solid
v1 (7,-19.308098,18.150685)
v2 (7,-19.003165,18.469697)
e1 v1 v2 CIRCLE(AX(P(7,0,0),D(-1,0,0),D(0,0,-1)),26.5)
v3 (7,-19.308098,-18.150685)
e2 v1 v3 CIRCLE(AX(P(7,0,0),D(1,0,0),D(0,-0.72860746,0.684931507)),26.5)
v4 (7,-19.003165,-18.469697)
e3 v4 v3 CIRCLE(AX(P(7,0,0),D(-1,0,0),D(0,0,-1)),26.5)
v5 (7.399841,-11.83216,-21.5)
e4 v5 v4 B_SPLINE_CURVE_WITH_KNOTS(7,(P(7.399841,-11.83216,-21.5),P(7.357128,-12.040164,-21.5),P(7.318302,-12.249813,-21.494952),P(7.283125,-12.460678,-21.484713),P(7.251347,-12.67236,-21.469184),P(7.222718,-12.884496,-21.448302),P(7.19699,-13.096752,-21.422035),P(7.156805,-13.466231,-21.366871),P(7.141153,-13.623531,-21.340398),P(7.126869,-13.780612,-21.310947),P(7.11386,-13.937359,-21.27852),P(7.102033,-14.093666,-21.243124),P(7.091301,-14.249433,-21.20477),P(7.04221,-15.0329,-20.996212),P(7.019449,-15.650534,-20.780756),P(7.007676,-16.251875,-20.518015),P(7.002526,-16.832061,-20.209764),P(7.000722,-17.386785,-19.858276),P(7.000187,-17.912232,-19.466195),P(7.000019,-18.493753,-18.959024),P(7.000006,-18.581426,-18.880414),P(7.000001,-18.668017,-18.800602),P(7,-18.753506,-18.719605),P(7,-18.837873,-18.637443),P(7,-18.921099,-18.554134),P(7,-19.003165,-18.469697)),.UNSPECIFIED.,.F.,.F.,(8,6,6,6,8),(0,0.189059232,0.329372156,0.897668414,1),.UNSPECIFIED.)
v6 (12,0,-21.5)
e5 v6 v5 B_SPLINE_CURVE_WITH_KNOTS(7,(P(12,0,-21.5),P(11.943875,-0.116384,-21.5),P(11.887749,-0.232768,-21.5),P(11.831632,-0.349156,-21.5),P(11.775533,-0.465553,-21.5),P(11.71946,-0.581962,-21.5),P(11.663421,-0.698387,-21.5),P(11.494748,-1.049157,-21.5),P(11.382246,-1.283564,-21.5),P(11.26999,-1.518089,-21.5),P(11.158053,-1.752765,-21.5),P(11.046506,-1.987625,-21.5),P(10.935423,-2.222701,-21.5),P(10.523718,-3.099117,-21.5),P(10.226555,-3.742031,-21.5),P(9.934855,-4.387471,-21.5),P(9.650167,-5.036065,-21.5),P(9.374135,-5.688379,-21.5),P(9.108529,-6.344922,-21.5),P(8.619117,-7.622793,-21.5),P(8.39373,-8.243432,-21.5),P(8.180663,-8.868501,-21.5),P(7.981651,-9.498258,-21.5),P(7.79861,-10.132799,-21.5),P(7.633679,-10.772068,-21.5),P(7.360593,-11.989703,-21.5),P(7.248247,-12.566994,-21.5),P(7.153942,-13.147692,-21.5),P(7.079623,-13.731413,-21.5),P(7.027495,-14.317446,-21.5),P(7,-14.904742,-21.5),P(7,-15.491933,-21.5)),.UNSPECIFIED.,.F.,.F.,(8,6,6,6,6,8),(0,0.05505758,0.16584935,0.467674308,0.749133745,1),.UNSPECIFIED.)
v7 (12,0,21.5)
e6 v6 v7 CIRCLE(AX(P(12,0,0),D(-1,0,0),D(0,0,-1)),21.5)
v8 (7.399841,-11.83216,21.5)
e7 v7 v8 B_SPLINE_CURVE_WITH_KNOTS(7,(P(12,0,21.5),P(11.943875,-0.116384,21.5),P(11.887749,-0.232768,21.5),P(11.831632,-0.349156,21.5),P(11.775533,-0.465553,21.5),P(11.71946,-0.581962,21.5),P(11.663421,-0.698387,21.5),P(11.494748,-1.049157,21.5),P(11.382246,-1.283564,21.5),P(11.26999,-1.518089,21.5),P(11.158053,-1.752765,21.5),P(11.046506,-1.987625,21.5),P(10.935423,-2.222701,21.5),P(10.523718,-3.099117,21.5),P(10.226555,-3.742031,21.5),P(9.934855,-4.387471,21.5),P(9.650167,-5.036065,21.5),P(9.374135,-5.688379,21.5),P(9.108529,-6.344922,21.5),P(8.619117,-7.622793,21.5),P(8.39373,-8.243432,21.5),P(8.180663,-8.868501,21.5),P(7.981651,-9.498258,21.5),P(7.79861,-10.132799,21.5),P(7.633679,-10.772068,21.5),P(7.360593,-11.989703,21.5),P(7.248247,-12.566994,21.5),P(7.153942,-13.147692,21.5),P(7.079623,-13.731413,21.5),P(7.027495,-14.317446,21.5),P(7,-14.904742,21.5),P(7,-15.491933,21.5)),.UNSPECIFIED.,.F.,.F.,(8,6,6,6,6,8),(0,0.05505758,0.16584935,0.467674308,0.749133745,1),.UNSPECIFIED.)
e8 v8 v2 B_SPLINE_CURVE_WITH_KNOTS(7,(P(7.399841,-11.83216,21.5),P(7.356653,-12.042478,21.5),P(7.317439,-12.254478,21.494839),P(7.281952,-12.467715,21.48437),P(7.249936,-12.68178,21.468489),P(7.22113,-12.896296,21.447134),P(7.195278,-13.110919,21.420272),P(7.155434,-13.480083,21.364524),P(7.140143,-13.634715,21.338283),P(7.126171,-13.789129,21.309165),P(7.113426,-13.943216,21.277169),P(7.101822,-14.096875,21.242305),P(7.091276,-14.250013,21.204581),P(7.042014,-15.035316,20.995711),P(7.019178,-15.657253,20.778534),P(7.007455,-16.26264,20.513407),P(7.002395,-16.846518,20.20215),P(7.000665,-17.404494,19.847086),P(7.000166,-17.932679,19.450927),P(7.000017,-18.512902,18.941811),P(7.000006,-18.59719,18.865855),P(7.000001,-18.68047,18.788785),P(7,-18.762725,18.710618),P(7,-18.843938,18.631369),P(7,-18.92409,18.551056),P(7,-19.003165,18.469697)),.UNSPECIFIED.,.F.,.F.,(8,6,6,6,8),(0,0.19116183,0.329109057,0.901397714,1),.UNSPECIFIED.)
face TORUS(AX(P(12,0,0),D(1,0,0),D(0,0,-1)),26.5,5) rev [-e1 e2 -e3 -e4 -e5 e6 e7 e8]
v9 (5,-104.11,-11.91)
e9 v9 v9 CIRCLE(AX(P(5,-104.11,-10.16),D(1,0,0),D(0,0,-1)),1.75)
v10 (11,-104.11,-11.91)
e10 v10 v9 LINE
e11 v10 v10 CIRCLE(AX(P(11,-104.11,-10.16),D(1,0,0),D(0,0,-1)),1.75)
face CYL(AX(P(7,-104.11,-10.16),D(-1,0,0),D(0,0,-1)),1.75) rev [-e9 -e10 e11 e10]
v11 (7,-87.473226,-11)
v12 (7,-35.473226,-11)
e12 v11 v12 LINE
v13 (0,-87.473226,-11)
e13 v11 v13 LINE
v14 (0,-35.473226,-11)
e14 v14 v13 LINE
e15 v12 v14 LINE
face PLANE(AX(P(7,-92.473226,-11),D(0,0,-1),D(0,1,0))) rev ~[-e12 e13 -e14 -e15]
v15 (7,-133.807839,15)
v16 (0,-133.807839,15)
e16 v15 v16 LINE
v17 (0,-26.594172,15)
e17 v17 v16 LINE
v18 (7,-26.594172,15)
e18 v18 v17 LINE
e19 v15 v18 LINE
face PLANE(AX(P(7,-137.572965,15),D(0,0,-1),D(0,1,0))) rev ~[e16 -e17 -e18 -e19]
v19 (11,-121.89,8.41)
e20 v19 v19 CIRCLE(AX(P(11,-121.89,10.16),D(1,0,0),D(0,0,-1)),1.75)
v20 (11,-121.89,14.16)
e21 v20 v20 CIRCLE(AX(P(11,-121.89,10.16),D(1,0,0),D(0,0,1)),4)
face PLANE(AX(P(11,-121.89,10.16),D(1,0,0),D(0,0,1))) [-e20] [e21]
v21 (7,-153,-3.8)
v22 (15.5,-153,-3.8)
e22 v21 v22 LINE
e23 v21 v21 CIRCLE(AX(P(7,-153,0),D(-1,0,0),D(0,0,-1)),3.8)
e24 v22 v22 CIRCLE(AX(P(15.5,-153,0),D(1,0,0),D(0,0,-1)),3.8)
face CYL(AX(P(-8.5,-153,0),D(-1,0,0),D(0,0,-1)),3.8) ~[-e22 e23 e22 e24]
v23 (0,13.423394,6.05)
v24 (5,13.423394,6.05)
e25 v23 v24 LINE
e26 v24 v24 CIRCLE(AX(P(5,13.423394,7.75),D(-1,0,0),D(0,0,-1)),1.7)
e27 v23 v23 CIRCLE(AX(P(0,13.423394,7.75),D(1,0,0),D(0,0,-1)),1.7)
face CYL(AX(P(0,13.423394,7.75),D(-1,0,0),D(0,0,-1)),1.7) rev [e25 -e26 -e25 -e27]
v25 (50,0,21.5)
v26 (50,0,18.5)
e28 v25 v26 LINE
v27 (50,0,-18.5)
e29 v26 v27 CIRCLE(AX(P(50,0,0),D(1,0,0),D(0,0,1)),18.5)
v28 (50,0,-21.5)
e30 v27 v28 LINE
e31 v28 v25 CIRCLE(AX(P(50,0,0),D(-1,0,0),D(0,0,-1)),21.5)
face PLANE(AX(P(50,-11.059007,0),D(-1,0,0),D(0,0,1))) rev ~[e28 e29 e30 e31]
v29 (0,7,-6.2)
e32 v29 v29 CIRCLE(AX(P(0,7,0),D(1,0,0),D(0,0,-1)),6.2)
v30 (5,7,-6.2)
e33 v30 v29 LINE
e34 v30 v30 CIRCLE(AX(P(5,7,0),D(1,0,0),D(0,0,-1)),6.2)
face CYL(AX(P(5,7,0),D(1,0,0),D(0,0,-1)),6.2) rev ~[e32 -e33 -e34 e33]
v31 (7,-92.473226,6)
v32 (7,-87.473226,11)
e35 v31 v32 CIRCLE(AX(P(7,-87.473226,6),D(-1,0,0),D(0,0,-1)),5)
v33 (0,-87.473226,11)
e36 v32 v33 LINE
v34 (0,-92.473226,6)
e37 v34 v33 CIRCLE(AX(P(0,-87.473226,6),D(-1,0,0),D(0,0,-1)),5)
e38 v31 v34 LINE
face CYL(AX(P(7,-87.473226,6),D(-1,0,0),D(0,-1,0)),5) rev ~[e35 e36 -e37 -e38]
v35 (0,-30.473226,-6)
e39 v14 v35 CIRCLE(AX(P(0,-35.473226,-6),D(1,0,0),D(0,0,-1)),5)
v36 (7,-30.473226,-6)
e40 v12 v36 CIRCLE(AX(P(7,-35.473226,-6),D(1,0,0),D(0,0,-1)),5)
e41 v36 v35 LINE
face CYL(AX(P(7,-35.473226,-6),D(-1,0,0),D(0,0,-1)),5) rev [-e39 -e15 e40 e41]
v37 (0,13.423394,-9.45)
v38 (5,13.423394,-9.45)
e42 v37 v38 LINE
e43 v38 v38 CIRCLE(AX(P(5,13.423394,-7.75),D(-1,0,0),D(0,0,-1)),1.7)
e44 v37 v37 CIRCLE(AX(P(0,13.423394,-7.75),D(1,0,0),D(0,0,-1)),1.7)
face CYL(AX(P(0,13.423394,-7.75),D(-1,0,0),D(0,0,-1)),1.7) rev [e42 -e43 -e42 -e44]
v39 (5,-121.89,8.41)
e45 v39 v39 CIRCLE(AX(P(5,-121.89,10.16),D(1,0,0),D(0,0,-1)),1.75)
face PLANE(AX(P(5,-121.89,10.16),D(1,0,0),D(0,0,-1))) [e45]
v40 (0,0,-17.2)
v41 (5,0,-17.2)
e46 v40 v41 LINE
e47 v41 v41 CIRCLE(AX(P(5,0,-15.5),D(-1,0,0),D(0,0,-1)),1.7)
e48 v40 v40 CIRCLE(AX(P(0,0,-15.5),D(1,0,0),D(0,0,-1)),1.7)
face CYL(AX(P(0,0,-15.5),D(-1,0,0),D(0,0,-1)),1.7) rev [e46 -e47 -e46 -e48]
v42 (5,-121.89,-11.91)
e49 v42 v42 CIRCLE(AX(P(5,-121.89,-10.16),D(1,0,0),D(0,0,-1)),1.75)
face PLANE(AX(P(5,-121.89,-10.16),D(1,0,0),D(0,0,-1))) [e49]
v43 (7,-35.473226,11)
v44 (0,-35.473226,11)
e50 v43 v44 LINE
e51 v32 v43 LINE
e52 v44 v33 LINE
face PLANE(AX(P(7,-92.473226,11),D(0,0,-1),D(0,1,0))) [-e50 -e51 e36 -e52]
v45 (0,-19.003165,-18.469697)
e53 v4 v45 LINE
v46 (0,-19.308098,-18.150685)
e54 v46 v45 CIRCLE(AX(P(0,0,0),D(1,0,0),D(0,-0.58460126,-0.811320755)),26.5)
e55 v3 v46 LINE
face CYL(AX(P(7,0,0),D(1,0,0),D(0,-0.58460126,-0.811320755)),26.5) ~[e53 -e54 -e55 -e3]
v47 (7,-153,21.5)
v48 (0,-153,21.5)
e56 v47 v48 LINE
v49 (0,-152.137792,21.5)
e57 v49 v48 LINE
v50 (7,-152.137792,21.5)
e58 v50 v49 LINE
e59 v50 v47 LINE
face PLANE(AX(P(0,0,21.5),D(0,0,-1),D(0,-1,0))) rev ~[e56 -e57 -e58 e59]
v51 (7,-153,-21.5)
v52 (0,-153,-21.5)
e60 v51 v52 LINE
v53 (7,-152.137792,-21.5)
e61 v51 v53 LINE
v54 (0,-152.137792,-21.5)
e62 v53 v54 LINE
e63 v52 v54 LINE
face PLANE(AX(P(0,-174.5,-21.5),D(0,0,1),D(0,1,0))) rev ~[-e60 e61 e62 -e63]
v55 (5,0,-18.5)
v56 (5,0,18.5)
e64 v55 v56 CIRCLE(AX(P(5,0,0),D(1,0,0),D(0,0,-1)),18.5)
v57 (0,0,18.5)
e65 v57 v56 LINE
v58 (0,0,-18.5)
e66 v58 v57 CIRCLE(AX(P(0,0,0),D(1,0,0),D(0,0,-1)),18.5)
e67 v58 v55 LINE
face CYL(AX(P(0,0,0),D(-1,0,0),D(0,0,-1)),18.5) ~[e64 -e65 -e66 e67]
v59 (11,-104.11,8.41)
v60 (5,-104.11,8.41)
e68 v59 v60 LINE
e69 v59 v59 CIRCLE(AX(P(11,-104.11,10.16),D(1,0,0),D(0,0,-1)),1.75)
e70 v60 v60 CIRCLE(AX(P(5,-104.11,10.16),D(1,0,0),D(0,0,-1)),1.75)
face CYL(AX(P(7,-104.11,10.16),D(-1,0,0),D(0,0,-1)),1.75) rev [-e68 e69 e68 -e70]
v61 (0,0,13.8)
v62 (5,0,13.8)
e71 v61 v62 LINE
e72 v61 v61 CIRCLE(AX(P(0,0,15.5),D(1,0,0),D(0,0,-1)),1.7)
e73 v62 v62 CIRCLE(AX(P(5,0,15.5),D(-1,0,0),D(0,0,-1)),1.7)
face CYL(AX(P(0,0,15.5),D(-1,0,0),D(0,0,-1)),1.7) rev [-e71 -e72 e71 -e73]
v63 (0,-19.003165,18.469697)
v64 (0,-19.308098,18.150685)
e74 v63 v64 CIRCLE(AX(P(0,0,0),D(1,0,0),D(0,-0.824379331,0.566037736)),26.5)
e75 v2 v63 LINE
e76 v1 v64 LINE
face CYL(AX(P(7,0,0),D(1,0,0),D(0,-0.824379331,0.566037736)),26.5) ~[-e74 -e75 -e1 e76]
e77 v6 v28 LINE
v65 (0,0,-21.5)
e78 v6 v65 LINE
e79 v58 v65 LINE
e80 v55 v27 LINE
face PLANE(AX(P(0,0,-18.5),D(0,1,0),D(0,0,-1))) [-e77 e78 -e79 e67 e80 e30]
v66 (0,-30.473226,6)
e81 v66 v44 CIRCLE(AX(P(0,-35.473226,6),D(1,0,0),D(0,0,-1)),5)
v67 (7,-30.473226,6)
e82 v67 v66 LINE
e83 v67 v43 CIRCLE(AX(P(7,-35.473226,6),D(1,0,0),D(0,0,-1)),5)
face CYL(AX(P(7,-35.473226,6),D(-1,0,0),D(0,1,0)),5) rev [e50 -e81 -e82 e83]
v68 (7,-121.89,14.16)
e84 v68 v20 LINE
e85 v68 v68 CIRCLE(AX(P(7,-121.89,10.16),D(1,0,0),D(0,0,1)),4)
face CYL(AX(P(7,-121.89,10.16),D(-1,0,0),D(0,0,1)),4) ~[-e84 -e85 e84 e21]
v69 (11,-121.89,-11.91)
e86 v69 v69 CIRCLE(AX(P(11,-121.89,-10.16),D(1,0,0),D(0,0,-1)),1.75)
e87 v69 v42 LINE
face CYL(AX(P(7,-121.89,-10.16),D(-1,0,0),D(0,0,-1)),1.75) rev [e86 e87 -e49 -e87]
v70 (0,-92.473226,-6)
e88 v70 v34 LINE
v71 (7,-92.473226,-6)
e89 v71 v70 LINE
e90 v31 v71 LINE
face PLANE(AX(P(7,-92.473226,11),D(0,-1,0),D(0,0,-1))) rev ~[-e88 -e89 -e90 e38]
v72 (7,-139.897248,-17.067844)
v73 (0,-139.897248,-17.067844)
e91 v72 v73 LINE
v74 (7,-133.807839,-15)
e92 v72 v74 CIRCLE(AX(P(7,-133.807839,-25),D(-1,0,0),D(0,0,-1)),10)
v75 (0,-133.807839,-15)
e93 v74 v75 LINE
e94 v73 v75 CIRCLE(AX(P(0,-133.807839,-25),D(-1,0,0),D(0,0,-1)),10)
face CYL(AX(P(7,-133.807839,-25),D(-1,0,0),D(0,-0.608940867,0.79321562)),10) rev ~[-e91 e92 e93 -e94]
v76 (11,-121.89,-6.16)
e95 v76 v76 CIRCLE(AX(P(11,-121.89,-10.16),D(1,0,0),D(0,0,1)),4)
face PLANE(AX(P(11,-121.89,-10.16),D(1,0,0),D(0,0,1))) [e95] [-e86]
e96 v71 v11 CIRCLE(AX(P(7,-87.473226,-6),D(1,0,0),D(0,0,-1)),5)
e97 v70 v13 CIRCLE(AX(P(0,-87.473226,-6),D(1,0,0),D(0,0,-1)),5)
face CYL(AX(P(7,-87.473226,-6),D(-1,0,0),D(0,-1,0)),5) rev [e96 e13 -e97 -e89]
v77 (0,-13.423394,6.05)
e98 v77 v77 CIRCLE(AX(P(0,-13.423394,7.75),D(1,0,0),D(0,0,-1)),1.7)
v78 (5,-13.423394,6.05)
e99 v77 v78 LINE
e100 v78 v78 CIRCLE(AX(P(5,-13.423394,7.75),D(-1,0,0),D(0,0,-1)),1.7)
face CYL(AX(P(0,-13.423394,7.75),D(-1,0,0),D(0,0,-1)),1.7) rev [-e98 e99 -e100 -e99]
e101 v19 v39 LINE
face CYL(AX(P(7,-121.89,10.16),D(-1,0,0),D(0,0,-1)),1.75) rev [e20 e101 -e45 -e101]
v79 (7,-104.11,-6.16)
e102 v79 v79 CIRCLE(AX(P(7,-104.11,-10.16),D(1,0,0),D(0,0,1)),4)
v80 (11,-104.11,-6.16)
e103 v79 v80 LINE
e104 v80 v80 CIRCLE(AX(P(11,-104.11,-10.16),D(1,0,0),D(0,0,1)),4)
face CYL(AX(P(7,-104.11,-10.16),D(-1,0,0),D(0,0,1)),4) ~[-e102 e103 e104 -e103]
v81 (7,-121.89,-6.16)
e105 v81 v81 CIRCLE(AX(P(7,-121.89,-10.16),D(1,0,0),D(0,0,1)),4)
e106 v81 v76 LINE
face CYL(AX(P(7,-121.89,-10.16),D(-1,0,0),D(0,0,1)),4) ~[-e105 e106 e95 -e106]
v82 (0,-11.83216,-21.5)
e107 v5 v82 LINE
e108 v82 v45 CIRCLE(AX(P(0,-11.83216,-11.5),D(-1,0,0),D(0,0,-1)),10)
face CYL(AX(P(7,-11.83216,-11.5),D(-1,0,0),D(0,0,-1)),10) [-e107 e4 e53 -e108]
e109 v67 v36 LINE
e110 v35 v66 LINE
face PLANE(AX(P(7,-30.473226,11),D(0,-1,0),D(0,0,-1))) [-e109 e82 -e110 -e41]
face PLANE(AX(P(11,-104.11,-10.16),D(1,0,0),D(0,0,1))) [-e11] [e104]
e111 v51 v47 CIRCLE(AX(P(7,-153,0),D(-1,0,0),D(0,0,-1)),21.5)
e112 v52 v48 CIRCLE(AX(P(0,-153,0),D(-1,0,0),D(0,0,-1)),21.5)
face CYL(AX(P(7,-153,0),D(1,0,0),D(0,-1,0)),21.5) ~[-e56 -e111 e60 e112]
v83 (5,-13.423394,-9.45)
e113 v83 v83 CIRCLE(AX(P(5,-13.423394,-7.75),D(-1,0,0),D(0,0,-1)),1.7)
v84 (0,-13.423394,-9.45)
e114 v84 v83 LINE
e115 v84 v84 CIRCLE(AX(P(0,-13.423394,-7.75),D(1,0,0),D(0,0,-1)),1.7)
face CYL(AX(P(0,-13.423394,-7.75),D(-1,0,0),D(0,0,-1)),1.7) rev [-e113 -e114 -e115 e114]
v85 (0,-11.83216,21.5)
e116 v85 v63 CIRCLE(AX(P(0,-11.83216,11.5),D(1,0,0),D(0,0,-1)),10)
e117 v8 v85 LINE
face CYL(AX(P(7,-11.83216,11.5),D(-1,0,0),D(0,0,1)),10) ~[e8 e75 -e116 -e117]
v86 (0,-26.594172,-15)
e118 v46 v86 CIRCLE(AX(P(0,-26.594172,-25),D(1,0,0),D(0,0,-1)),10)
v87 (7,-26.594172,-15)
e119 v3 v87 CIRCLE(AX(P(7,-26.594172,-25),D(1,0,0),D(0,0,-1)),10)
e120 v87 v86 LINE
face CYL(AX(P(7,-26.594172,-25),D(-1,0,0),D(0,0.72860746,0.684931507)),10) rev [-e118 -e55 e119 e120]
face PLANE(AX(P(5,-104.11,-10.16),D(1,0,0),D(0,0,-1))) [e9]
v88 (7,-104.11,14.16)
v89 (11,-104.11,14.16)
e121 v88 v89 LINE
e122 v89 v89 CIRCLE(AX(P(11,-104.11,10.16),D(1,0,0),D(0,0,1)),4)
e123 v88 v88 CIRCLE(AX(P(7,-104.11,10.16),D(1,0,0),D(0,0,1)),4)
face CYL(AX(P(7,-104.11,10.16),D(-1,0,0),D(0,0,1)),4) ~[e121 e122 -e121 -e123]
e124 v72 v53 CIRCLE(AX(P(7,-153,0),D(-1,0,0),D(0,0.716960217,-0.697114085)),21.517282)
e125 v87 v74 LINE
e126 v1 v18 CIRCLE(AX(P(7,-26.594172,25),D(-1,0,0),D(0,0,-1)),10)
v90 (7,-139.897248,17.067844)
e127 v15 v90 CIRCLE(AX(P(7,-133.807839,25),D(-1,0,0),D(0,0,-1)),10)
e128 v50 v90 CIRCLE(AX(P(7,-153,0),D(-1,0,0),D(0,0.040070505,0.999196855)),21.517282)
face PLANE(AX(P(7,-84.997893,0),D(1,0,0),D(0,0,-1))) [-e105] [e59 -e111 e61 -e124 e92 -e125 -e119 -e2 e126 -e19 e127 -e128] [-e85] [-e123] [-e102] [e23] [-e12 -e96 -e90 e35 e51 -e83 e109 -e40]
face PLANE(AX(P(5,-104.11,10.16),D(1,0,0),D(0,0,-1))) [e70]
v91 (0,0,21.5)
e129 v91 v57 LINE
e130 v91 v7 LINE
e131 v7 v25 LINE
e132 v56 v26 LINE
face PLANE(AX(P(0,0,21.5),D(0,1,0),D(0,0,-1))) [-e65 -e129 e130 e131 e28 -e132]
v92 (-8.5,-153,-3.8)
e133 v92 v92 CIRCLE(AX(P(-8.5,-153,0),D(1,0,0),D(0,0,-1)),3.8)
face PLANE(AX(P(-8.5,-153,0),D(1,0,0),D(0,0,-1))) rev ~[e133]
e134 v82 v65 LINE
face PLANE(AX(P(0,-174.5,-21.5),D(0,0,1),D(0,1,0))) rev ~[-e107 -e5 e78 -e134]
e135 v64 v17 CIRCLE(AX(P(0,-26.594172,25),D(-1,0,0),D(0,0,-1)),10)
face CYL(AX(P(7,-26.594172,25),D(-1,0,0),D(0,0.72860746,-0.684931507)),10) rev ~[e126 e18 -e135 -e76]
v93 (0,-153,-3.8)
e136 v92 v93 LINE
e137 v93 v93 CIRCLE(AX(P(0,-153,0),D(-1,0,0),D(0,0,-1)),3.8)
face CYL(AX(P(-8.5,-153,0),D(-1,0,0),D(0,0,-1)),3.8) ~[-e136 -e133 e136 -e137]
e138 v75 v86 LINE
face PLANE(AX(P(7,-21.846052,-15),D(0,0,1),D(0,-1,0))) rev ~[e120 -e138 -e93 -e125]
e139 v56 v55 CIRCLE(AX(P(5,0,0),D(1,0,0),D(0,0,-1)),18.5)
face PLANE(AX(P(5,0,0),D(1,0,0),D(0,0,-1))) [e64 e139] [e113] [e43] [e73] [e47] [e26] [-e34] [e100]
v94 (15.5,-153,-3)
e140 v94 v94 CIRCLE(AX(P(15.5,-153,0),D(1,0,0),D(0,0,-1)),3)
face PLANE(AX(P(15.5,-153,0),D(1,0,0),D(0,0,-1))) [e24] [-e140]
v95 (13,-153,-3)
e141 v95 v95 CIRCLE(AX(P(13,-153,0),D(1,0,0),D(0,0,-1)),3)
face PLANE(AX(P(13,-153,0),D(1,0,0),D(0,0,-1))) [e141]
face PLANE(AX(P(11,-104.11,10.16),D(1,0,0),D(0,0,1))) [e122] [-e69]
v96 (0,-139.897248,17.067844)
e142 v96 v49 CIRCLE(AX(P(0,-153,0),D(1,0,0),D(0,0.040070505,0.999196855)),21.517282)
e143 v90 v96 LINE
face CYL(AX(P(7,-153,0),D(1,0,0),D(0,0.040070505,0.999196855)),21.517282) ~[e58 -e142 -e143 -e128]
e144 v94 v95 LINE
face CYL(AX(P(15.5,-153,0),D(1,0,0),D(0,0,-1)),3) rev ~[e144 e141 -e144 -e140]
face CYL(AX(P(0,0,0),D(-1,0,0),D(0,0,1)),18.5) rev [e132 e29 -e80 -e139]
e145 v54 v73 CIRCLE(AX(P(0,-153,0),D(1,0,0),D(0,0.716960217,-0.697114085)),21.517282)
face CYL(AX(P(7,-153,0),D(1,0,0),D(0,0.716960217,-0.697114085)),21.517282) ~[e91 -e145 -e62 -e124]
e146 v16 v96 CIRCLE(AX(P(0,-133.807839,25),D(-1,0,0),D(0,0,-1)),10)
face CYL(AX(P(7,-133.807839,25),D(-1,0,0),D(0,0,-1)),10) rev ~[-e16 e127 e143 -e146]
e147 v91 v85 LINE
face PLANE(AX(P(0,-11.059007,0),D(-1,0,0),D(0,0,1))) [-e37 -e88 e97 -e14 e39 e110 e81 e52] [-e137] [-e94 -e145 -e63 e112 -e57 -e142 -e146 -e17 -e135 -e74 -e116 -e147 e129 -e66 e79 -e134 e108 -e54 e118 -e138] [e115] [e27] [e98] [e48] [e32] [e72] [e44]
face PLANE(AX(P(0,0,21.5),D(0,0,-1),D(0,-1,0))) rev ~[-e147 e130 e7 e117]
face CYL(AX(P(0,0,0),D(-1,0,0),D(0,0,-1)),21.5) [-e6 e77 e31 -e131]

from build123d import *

# Parameters (mm, degrees)
SKETCH1_R                = 18.5
BOSS_EXTRUDE1_DEPTH      = 5
SKETCH2_R                = 6.2
CUT_EXTRUDE1_DEPTH       = 10
SKETCH3_R                = 1.6999999999999995
SKETCH3_R_2              = 1.6999999999998752
SKETCH3_R_3              = 1.7000000000002367
SKETCH3_R_4              = 1.700000000000381
SKETCH3_R_5              = 1.7000000000003195
SKETCH3_R_6              = 1.7000000000003193
CUT_EXTRUDE2_DEPTH       = 10
BOSS_EXTRUDE2_DEPTH      = 50
BOSS_EXTRUDE3_DEPTH      = 7
CUT_EXTRUDE3_DEPTH       = 20
BOSS_EXTRUDE4_DEPTH      = 8.5
BOSS_EXTRUDE4_DEPTH_BACK = 15.499999999999996
SKETCH7_R                = 3.799999999999999
SKETCH8_R                = 4.000000000000005
SKETCH8_R_2              = 1.7500000000000004
SKETCH8_R_3              = 4.000000000000007
BOSS_EXTRUDE5_DEPTH      = 4
CUT_EXTRUDE4_START       = -2
SKETCH8_2_R              = 1.7500000000000004
CUT_EXTRUDE4_DEPTH       = 2
FILLET1_R                = 5
SKETCH9_R                = 3.0000000000000036
CUT_EXTRUDE5_DEPTH       = 2.5
CUT_EXTRUDE6_DEPTH       = 182.00138122207798
FILLET2_R                = 10
SKETCH11_W               = 22.00000000000001
SKETCH11_H               = 61.99999999999998
CUT_EXTRUDE7_DEPTH       = 182.00138122207798
FILLET3_R                = 5


with BuildPart() as part:
    # Sketch1 → Boss-Extrude1 (new body)
    with BuildSketch(Plane(origin=(0, 0, 0), x_dir=(0, 0, -1), z_dir=(1, 0, 0))):
        Circle(SKETCH1_R)
    extrude(amount=BOSS_EXTRUDE1_DEPTH)

    # Sketch2 → Cut-Extrude1 (cut)
    with BuildSketch(Plane(origin=(5, 0, 0), x_dir=(0, 0, -1), z_dir=(1, 0, 0))):
        with Locations((0, 7)):
            Circle(SKETCH2_R)
    extrude(amount=-CUT_EXTRUDE1_DEPTH, mode=Mode.SUBTRACT)

    # Sketch3 → Cut-Extrude2 (cut)
    with BuildSketch(Plane(origin=(0, 0, 0), x_dir=(0, 0, -1), z_dir=(1, 0, 0))):
        with Locations((15.5, 0)):
            Circle(SKETCH3_R)
        with Locations((7.750000000000335, -13.423393758658609)):
            Circle(SKETCH3_R_2)
        with Locations((-7.749999999999674, -13.423393758658612)):
            Circle(SKETCH3_R_3)
        with Locations((-15.499999999999568, 0)):
            Circle(SKETCH3_R_4)
        with Locations((-7.749999999999682, 13.42339375865861)):
            Circle(SKETCH3_R_5)
        with Locations((7.749999999999989, 13.42339375865842)):
            Circle(SKETCH3_R_6)
    extrude(amount=CUT_EXTRUDE2_DEPTH, mode=Mode.SUBTRACT)

    # Sketch4 → Boss-Extrude2 (add)
    with BuildSketch(Plane.ZY):
        with BuildLine():
            Line((-18.5, 0), (-21.5, 0))
            ThreePointArc((-21.5, 0), (-3.95e-15, -21.5), (21.5, 0))
            Line((21.5, 0), (18.5, 0))
            ThreePointArc((18.5, 0), (-3.4e-15, -18.5), (-18.5, 0))
        make_face()
    extrude(amount=-BOSS_EXTRUDE2_DEPTH)

    # Sketch5 → Boss-Extrude3 (add)
    with BuildSketch(Plane.ZY):
        with BuildLine():
            Line((-21.5, 0), (-18.5, 0))
            ThreePointArc((-18.5, 0), (-3.4e-15, -18.5), (18.5, 0))
            Line((18.5, 0), (21.5, 0))
            Line((21.5, 0), (21.500000000000018, -174.5))
            Line((21.500000000000018, -174.5), (-21.49999999999998, -174.5))
            Line((-21.49999999999998, -174.5), (-21.5, 0))
        make_face()
    extrude(amount=-BOSS_EXTRUDE3_DEPTH)

    # Sketch6 → Cut-Extrude3 (cut)
    with BuildSketch(Plane(origin=(7, 0, 0), x_dir=(0, 0, -1), z_dir=(1, 0, 0))):
        with BuildLine():
            Line((21.49999999999998, -174.5), (21.499999999999982, -153.00000000000003))
            ThreePointArc((21.5, -153.00000000000003), (15.20279579551168, -168.20279579550987), (2.57571e-12, -174.5))
            Line((2.57572e-12, -174.5), (21.499999999999982, -174.5))
        make_face()
        with BuildLine():
            ThreePointArc((2.57571e-12, -174.5), (-15.202795795509834, -168.2027957955117), (-21.499999999999957, -153.00000000000003))
            Line((-21.500000000000014, -153.00000000000003), (-21.500000000000018, -174.5))
            Line((-21.500000000000018, -174.5), (2.57572e-12, -174.5))
        make_face()
    extrude(amount=-CUT_EXTRUDE3_DEPTH, mode=Mode.SUBTRACT)

    # Sketch7 → Boss-Extrude4 (add, two sides: drawn at the far end of the back side and taken through both)
    with BuildSketch(Plane(origin=(7, 0, 0), x_dir=(0, 0, -1), z_dir=(1, 0, 0)).offset(-BOSS_EXTRUDE4_DEPTH_BACK)):
        with Locations((2.082e-14, -153.00000000000003)):
            Circle(SKETCH7_R)
    extrude(amount=BOSS_EXTRUDE4_DEPTH + BOSS_EXTRUDE4_DEPTH_BACK)

    # Sketch8 → Boss-Extrude5 (add)
    # profile 1 of 4: a face of its own
    with BuildSketch(Plane(origin=(7, 0, 0), x_dir=(0, 0, -1), z_dir=(1, 0, 0))):
        with Locations((10.160000000000018, -121.88999999999999)):
            Circle(SKETCH8_R)
        with Locations((10.160000000000018, -121.88999999999999)):
            Circle(SKETCH8_R_2, mode=Mode.SUBTRACT)
    # profile 2 of 4: a face of its own
    with BuildSketch(Plane(origin=(7, 0, 0), x_dir=(0, 0, -1), z_dir=(1, 0, 0))):
        with Locations((-10.159999999999984, -121.88999999999999)):
            Circle(SKETCH8_R_3)
        with Locations((-10.159999999999984, -121.88999999999999)):
            Circle(SKETCH8_R_2, mode=Mode.SUBTRACT)
    # profile 3 of 4: a face of its own
    with BuildSketch(Plane(origin=(7, 0, 0), x_dir=(0, 0, -1), z_dir=(1, 0, 0))):
        with Locations((-10.159999999999984, -104.10999999999999)):
            Circle(SKETCH8_R_3)
        with Locations((-10.159999999999984, -104.10999999999999)):
            Circle(SKETCH8_R_2, mode=Mode.SUBTRACT)
    # profile 4 of 4: a face of its own
    with BuildSketch(Plane(origin=(7, 0, 0), x_dir=(0, 0, -1), z_dir=(1, 0, 0))):
        with Locations((10.160000000000018, -104.10999999999999)):
            Circle(SKETCH8_R)
        with Locations((10.160000000000018, -104.10999999999999)):
            Circle(SKETCH8_R_2, mode=Mode.SUBTRACT)
    extrude(amount=BOSS_EXTRUDE5_DEPTH)

    # Sketch8<2> → Cut-Extrude4 (cut)
    with BuildSketch(Plane(origin=(7, 0, 0), x_dir=(0, 0, -1), z_dir=(1, 0, 0)).offset(CUT_EXTRUDE4_START)):
        with Locations((-10.159999999999984, -104.10999999999999)):
            Circle(SKETCH8_2_R)
        with Locations((10.160000000000018, -104.10999999999999)):
            Circle(SKETCH8_2_R)
        with Locations((-10.159999999999984, -121.88999999999999)):
            Circle(SKETCH8_2_R)
        with Locations((10.160000000000018, -121.88999999999999)):
            Circle(SKETCH8_2_R)
    extrude(amount=CUT_EXTRUDE4_DEPTH, mode=Mode.SUBTRACT)

    # Fillet1
    fillet1_edges = [part.edges().sort_by_distance(p)[0] for p in [
        (7, -21.5, -2.2e-15),
    ]]
    fillet(fillet1_edges, radius=FILLET1_R)

    # Sketch9 → Cut-Extrude5 (cut)
    with BuildSketch(Plane(origin=(15.5, 0, 0), x_dir=(0, 0, -1), z_dir=(1, 0, 0))):
        with Locations((2.082e-14, -153.00000000000003)):
            Circle(SKETCH9_R)
    extrude(amount=-CUT_EXTRUDE5_DEPTH, mode=Mode.SUBTRACT)

    # Sketch10 → Cut-Extrude6 (cut, through all)
    with BuildSketch(Plane(origin=(7, 0, 0), x_dir=(0, 0, -1), z_dir=(1, 0, 0))):
        with BuildLine():
            Line((-15.000000000000016, -137.57296518391348), (-15.000000000000014, -21.84605227495347))
            ThreePointArc((-15.000000000000018, -21.84605227495347), (-18.524475882395627, -18.94977026991469), (-21.5, -15.491933384829668))
            Line((-21.5, -15.491933384829668), (-21.5, -152.13779166279446))
            ThreePointArc((-21.500000000000007, -152.13779166279446), (-19.64932677192729, -144.23088598393383), (-15.000000000000014, -137.57296518391348))
        make_face()
        with BuildLine():
            ThreePointArc((21.499999999999996, -15.491933384829675), (18.52447588239562, -18.949770269914705), (14.999999999999996, -21.846052274953482))
            Line((14.999999999999996, -21.846052274953482), (14.999999999999995, -137.57296518391342))
            ThreePointArc((14.999999999999995, -137.57296518391342), (19.649326771927107, -144.23088598393335), (21.499999999999993, -152.1377916627935))
            Line((21.499999999999996, -152.1377916627935), (21.499999999999996, -15.491933384829672))
        make_face()
    extrude(amount=-CUT_EXTRUDE6_DEPTH, mode=Mode.SUBTRACT)

    # Fillet2
    fillet2_edges = [part.edges().sort_by_distance(p)[0] for p in [
        (3.5, -137.57296518391348, 15.000000000000014),
        (3.5, -137.57296518391342, -14.999999999999991),
        (3.5, -21.846052274953486, -14.999999999999998),
        (3.5, -15.491933384829675, -21.5),
        (3.5, -21.846052274953465, 15.000000000000014),
        (3.5, -15.491933384829668, 21.5),
    ]]
    fillet(fillet2_edges, radius=FILLET2_R)

    # Sketch11 → Cut-Extrude7 (cut, through all)
    with BuildSketch(Plane(origin=(7, 0, 0), x_dir=(0, 0, -1), z_dir=(1, 0, 0))):
        with Locations((-8.88e-15, -61.47322598734716)):
            Rectangle(SKETCH11_W, SKETCH11_H)
    extrude(amount=-CUT_EXTRUDE7_DEPTH, mode=Mode.SUBTRACT)

    # Fillet3
    fillet3_edges = [part.edges().sort_by_distance(p)[0] for p in [
        (3.5, -30.47322598734717, 11.000000000000014),
        (3.5, -30.47322598734717, -10.999999999999996),
        (3.5, -92.47322598734716, -10.999999999999996),
        (3.5, -92.47322598734716, 11.000000000000014),
    ]]
    fillet(fillet3_edges, radius=FILLET3_R)


solid = part.part
